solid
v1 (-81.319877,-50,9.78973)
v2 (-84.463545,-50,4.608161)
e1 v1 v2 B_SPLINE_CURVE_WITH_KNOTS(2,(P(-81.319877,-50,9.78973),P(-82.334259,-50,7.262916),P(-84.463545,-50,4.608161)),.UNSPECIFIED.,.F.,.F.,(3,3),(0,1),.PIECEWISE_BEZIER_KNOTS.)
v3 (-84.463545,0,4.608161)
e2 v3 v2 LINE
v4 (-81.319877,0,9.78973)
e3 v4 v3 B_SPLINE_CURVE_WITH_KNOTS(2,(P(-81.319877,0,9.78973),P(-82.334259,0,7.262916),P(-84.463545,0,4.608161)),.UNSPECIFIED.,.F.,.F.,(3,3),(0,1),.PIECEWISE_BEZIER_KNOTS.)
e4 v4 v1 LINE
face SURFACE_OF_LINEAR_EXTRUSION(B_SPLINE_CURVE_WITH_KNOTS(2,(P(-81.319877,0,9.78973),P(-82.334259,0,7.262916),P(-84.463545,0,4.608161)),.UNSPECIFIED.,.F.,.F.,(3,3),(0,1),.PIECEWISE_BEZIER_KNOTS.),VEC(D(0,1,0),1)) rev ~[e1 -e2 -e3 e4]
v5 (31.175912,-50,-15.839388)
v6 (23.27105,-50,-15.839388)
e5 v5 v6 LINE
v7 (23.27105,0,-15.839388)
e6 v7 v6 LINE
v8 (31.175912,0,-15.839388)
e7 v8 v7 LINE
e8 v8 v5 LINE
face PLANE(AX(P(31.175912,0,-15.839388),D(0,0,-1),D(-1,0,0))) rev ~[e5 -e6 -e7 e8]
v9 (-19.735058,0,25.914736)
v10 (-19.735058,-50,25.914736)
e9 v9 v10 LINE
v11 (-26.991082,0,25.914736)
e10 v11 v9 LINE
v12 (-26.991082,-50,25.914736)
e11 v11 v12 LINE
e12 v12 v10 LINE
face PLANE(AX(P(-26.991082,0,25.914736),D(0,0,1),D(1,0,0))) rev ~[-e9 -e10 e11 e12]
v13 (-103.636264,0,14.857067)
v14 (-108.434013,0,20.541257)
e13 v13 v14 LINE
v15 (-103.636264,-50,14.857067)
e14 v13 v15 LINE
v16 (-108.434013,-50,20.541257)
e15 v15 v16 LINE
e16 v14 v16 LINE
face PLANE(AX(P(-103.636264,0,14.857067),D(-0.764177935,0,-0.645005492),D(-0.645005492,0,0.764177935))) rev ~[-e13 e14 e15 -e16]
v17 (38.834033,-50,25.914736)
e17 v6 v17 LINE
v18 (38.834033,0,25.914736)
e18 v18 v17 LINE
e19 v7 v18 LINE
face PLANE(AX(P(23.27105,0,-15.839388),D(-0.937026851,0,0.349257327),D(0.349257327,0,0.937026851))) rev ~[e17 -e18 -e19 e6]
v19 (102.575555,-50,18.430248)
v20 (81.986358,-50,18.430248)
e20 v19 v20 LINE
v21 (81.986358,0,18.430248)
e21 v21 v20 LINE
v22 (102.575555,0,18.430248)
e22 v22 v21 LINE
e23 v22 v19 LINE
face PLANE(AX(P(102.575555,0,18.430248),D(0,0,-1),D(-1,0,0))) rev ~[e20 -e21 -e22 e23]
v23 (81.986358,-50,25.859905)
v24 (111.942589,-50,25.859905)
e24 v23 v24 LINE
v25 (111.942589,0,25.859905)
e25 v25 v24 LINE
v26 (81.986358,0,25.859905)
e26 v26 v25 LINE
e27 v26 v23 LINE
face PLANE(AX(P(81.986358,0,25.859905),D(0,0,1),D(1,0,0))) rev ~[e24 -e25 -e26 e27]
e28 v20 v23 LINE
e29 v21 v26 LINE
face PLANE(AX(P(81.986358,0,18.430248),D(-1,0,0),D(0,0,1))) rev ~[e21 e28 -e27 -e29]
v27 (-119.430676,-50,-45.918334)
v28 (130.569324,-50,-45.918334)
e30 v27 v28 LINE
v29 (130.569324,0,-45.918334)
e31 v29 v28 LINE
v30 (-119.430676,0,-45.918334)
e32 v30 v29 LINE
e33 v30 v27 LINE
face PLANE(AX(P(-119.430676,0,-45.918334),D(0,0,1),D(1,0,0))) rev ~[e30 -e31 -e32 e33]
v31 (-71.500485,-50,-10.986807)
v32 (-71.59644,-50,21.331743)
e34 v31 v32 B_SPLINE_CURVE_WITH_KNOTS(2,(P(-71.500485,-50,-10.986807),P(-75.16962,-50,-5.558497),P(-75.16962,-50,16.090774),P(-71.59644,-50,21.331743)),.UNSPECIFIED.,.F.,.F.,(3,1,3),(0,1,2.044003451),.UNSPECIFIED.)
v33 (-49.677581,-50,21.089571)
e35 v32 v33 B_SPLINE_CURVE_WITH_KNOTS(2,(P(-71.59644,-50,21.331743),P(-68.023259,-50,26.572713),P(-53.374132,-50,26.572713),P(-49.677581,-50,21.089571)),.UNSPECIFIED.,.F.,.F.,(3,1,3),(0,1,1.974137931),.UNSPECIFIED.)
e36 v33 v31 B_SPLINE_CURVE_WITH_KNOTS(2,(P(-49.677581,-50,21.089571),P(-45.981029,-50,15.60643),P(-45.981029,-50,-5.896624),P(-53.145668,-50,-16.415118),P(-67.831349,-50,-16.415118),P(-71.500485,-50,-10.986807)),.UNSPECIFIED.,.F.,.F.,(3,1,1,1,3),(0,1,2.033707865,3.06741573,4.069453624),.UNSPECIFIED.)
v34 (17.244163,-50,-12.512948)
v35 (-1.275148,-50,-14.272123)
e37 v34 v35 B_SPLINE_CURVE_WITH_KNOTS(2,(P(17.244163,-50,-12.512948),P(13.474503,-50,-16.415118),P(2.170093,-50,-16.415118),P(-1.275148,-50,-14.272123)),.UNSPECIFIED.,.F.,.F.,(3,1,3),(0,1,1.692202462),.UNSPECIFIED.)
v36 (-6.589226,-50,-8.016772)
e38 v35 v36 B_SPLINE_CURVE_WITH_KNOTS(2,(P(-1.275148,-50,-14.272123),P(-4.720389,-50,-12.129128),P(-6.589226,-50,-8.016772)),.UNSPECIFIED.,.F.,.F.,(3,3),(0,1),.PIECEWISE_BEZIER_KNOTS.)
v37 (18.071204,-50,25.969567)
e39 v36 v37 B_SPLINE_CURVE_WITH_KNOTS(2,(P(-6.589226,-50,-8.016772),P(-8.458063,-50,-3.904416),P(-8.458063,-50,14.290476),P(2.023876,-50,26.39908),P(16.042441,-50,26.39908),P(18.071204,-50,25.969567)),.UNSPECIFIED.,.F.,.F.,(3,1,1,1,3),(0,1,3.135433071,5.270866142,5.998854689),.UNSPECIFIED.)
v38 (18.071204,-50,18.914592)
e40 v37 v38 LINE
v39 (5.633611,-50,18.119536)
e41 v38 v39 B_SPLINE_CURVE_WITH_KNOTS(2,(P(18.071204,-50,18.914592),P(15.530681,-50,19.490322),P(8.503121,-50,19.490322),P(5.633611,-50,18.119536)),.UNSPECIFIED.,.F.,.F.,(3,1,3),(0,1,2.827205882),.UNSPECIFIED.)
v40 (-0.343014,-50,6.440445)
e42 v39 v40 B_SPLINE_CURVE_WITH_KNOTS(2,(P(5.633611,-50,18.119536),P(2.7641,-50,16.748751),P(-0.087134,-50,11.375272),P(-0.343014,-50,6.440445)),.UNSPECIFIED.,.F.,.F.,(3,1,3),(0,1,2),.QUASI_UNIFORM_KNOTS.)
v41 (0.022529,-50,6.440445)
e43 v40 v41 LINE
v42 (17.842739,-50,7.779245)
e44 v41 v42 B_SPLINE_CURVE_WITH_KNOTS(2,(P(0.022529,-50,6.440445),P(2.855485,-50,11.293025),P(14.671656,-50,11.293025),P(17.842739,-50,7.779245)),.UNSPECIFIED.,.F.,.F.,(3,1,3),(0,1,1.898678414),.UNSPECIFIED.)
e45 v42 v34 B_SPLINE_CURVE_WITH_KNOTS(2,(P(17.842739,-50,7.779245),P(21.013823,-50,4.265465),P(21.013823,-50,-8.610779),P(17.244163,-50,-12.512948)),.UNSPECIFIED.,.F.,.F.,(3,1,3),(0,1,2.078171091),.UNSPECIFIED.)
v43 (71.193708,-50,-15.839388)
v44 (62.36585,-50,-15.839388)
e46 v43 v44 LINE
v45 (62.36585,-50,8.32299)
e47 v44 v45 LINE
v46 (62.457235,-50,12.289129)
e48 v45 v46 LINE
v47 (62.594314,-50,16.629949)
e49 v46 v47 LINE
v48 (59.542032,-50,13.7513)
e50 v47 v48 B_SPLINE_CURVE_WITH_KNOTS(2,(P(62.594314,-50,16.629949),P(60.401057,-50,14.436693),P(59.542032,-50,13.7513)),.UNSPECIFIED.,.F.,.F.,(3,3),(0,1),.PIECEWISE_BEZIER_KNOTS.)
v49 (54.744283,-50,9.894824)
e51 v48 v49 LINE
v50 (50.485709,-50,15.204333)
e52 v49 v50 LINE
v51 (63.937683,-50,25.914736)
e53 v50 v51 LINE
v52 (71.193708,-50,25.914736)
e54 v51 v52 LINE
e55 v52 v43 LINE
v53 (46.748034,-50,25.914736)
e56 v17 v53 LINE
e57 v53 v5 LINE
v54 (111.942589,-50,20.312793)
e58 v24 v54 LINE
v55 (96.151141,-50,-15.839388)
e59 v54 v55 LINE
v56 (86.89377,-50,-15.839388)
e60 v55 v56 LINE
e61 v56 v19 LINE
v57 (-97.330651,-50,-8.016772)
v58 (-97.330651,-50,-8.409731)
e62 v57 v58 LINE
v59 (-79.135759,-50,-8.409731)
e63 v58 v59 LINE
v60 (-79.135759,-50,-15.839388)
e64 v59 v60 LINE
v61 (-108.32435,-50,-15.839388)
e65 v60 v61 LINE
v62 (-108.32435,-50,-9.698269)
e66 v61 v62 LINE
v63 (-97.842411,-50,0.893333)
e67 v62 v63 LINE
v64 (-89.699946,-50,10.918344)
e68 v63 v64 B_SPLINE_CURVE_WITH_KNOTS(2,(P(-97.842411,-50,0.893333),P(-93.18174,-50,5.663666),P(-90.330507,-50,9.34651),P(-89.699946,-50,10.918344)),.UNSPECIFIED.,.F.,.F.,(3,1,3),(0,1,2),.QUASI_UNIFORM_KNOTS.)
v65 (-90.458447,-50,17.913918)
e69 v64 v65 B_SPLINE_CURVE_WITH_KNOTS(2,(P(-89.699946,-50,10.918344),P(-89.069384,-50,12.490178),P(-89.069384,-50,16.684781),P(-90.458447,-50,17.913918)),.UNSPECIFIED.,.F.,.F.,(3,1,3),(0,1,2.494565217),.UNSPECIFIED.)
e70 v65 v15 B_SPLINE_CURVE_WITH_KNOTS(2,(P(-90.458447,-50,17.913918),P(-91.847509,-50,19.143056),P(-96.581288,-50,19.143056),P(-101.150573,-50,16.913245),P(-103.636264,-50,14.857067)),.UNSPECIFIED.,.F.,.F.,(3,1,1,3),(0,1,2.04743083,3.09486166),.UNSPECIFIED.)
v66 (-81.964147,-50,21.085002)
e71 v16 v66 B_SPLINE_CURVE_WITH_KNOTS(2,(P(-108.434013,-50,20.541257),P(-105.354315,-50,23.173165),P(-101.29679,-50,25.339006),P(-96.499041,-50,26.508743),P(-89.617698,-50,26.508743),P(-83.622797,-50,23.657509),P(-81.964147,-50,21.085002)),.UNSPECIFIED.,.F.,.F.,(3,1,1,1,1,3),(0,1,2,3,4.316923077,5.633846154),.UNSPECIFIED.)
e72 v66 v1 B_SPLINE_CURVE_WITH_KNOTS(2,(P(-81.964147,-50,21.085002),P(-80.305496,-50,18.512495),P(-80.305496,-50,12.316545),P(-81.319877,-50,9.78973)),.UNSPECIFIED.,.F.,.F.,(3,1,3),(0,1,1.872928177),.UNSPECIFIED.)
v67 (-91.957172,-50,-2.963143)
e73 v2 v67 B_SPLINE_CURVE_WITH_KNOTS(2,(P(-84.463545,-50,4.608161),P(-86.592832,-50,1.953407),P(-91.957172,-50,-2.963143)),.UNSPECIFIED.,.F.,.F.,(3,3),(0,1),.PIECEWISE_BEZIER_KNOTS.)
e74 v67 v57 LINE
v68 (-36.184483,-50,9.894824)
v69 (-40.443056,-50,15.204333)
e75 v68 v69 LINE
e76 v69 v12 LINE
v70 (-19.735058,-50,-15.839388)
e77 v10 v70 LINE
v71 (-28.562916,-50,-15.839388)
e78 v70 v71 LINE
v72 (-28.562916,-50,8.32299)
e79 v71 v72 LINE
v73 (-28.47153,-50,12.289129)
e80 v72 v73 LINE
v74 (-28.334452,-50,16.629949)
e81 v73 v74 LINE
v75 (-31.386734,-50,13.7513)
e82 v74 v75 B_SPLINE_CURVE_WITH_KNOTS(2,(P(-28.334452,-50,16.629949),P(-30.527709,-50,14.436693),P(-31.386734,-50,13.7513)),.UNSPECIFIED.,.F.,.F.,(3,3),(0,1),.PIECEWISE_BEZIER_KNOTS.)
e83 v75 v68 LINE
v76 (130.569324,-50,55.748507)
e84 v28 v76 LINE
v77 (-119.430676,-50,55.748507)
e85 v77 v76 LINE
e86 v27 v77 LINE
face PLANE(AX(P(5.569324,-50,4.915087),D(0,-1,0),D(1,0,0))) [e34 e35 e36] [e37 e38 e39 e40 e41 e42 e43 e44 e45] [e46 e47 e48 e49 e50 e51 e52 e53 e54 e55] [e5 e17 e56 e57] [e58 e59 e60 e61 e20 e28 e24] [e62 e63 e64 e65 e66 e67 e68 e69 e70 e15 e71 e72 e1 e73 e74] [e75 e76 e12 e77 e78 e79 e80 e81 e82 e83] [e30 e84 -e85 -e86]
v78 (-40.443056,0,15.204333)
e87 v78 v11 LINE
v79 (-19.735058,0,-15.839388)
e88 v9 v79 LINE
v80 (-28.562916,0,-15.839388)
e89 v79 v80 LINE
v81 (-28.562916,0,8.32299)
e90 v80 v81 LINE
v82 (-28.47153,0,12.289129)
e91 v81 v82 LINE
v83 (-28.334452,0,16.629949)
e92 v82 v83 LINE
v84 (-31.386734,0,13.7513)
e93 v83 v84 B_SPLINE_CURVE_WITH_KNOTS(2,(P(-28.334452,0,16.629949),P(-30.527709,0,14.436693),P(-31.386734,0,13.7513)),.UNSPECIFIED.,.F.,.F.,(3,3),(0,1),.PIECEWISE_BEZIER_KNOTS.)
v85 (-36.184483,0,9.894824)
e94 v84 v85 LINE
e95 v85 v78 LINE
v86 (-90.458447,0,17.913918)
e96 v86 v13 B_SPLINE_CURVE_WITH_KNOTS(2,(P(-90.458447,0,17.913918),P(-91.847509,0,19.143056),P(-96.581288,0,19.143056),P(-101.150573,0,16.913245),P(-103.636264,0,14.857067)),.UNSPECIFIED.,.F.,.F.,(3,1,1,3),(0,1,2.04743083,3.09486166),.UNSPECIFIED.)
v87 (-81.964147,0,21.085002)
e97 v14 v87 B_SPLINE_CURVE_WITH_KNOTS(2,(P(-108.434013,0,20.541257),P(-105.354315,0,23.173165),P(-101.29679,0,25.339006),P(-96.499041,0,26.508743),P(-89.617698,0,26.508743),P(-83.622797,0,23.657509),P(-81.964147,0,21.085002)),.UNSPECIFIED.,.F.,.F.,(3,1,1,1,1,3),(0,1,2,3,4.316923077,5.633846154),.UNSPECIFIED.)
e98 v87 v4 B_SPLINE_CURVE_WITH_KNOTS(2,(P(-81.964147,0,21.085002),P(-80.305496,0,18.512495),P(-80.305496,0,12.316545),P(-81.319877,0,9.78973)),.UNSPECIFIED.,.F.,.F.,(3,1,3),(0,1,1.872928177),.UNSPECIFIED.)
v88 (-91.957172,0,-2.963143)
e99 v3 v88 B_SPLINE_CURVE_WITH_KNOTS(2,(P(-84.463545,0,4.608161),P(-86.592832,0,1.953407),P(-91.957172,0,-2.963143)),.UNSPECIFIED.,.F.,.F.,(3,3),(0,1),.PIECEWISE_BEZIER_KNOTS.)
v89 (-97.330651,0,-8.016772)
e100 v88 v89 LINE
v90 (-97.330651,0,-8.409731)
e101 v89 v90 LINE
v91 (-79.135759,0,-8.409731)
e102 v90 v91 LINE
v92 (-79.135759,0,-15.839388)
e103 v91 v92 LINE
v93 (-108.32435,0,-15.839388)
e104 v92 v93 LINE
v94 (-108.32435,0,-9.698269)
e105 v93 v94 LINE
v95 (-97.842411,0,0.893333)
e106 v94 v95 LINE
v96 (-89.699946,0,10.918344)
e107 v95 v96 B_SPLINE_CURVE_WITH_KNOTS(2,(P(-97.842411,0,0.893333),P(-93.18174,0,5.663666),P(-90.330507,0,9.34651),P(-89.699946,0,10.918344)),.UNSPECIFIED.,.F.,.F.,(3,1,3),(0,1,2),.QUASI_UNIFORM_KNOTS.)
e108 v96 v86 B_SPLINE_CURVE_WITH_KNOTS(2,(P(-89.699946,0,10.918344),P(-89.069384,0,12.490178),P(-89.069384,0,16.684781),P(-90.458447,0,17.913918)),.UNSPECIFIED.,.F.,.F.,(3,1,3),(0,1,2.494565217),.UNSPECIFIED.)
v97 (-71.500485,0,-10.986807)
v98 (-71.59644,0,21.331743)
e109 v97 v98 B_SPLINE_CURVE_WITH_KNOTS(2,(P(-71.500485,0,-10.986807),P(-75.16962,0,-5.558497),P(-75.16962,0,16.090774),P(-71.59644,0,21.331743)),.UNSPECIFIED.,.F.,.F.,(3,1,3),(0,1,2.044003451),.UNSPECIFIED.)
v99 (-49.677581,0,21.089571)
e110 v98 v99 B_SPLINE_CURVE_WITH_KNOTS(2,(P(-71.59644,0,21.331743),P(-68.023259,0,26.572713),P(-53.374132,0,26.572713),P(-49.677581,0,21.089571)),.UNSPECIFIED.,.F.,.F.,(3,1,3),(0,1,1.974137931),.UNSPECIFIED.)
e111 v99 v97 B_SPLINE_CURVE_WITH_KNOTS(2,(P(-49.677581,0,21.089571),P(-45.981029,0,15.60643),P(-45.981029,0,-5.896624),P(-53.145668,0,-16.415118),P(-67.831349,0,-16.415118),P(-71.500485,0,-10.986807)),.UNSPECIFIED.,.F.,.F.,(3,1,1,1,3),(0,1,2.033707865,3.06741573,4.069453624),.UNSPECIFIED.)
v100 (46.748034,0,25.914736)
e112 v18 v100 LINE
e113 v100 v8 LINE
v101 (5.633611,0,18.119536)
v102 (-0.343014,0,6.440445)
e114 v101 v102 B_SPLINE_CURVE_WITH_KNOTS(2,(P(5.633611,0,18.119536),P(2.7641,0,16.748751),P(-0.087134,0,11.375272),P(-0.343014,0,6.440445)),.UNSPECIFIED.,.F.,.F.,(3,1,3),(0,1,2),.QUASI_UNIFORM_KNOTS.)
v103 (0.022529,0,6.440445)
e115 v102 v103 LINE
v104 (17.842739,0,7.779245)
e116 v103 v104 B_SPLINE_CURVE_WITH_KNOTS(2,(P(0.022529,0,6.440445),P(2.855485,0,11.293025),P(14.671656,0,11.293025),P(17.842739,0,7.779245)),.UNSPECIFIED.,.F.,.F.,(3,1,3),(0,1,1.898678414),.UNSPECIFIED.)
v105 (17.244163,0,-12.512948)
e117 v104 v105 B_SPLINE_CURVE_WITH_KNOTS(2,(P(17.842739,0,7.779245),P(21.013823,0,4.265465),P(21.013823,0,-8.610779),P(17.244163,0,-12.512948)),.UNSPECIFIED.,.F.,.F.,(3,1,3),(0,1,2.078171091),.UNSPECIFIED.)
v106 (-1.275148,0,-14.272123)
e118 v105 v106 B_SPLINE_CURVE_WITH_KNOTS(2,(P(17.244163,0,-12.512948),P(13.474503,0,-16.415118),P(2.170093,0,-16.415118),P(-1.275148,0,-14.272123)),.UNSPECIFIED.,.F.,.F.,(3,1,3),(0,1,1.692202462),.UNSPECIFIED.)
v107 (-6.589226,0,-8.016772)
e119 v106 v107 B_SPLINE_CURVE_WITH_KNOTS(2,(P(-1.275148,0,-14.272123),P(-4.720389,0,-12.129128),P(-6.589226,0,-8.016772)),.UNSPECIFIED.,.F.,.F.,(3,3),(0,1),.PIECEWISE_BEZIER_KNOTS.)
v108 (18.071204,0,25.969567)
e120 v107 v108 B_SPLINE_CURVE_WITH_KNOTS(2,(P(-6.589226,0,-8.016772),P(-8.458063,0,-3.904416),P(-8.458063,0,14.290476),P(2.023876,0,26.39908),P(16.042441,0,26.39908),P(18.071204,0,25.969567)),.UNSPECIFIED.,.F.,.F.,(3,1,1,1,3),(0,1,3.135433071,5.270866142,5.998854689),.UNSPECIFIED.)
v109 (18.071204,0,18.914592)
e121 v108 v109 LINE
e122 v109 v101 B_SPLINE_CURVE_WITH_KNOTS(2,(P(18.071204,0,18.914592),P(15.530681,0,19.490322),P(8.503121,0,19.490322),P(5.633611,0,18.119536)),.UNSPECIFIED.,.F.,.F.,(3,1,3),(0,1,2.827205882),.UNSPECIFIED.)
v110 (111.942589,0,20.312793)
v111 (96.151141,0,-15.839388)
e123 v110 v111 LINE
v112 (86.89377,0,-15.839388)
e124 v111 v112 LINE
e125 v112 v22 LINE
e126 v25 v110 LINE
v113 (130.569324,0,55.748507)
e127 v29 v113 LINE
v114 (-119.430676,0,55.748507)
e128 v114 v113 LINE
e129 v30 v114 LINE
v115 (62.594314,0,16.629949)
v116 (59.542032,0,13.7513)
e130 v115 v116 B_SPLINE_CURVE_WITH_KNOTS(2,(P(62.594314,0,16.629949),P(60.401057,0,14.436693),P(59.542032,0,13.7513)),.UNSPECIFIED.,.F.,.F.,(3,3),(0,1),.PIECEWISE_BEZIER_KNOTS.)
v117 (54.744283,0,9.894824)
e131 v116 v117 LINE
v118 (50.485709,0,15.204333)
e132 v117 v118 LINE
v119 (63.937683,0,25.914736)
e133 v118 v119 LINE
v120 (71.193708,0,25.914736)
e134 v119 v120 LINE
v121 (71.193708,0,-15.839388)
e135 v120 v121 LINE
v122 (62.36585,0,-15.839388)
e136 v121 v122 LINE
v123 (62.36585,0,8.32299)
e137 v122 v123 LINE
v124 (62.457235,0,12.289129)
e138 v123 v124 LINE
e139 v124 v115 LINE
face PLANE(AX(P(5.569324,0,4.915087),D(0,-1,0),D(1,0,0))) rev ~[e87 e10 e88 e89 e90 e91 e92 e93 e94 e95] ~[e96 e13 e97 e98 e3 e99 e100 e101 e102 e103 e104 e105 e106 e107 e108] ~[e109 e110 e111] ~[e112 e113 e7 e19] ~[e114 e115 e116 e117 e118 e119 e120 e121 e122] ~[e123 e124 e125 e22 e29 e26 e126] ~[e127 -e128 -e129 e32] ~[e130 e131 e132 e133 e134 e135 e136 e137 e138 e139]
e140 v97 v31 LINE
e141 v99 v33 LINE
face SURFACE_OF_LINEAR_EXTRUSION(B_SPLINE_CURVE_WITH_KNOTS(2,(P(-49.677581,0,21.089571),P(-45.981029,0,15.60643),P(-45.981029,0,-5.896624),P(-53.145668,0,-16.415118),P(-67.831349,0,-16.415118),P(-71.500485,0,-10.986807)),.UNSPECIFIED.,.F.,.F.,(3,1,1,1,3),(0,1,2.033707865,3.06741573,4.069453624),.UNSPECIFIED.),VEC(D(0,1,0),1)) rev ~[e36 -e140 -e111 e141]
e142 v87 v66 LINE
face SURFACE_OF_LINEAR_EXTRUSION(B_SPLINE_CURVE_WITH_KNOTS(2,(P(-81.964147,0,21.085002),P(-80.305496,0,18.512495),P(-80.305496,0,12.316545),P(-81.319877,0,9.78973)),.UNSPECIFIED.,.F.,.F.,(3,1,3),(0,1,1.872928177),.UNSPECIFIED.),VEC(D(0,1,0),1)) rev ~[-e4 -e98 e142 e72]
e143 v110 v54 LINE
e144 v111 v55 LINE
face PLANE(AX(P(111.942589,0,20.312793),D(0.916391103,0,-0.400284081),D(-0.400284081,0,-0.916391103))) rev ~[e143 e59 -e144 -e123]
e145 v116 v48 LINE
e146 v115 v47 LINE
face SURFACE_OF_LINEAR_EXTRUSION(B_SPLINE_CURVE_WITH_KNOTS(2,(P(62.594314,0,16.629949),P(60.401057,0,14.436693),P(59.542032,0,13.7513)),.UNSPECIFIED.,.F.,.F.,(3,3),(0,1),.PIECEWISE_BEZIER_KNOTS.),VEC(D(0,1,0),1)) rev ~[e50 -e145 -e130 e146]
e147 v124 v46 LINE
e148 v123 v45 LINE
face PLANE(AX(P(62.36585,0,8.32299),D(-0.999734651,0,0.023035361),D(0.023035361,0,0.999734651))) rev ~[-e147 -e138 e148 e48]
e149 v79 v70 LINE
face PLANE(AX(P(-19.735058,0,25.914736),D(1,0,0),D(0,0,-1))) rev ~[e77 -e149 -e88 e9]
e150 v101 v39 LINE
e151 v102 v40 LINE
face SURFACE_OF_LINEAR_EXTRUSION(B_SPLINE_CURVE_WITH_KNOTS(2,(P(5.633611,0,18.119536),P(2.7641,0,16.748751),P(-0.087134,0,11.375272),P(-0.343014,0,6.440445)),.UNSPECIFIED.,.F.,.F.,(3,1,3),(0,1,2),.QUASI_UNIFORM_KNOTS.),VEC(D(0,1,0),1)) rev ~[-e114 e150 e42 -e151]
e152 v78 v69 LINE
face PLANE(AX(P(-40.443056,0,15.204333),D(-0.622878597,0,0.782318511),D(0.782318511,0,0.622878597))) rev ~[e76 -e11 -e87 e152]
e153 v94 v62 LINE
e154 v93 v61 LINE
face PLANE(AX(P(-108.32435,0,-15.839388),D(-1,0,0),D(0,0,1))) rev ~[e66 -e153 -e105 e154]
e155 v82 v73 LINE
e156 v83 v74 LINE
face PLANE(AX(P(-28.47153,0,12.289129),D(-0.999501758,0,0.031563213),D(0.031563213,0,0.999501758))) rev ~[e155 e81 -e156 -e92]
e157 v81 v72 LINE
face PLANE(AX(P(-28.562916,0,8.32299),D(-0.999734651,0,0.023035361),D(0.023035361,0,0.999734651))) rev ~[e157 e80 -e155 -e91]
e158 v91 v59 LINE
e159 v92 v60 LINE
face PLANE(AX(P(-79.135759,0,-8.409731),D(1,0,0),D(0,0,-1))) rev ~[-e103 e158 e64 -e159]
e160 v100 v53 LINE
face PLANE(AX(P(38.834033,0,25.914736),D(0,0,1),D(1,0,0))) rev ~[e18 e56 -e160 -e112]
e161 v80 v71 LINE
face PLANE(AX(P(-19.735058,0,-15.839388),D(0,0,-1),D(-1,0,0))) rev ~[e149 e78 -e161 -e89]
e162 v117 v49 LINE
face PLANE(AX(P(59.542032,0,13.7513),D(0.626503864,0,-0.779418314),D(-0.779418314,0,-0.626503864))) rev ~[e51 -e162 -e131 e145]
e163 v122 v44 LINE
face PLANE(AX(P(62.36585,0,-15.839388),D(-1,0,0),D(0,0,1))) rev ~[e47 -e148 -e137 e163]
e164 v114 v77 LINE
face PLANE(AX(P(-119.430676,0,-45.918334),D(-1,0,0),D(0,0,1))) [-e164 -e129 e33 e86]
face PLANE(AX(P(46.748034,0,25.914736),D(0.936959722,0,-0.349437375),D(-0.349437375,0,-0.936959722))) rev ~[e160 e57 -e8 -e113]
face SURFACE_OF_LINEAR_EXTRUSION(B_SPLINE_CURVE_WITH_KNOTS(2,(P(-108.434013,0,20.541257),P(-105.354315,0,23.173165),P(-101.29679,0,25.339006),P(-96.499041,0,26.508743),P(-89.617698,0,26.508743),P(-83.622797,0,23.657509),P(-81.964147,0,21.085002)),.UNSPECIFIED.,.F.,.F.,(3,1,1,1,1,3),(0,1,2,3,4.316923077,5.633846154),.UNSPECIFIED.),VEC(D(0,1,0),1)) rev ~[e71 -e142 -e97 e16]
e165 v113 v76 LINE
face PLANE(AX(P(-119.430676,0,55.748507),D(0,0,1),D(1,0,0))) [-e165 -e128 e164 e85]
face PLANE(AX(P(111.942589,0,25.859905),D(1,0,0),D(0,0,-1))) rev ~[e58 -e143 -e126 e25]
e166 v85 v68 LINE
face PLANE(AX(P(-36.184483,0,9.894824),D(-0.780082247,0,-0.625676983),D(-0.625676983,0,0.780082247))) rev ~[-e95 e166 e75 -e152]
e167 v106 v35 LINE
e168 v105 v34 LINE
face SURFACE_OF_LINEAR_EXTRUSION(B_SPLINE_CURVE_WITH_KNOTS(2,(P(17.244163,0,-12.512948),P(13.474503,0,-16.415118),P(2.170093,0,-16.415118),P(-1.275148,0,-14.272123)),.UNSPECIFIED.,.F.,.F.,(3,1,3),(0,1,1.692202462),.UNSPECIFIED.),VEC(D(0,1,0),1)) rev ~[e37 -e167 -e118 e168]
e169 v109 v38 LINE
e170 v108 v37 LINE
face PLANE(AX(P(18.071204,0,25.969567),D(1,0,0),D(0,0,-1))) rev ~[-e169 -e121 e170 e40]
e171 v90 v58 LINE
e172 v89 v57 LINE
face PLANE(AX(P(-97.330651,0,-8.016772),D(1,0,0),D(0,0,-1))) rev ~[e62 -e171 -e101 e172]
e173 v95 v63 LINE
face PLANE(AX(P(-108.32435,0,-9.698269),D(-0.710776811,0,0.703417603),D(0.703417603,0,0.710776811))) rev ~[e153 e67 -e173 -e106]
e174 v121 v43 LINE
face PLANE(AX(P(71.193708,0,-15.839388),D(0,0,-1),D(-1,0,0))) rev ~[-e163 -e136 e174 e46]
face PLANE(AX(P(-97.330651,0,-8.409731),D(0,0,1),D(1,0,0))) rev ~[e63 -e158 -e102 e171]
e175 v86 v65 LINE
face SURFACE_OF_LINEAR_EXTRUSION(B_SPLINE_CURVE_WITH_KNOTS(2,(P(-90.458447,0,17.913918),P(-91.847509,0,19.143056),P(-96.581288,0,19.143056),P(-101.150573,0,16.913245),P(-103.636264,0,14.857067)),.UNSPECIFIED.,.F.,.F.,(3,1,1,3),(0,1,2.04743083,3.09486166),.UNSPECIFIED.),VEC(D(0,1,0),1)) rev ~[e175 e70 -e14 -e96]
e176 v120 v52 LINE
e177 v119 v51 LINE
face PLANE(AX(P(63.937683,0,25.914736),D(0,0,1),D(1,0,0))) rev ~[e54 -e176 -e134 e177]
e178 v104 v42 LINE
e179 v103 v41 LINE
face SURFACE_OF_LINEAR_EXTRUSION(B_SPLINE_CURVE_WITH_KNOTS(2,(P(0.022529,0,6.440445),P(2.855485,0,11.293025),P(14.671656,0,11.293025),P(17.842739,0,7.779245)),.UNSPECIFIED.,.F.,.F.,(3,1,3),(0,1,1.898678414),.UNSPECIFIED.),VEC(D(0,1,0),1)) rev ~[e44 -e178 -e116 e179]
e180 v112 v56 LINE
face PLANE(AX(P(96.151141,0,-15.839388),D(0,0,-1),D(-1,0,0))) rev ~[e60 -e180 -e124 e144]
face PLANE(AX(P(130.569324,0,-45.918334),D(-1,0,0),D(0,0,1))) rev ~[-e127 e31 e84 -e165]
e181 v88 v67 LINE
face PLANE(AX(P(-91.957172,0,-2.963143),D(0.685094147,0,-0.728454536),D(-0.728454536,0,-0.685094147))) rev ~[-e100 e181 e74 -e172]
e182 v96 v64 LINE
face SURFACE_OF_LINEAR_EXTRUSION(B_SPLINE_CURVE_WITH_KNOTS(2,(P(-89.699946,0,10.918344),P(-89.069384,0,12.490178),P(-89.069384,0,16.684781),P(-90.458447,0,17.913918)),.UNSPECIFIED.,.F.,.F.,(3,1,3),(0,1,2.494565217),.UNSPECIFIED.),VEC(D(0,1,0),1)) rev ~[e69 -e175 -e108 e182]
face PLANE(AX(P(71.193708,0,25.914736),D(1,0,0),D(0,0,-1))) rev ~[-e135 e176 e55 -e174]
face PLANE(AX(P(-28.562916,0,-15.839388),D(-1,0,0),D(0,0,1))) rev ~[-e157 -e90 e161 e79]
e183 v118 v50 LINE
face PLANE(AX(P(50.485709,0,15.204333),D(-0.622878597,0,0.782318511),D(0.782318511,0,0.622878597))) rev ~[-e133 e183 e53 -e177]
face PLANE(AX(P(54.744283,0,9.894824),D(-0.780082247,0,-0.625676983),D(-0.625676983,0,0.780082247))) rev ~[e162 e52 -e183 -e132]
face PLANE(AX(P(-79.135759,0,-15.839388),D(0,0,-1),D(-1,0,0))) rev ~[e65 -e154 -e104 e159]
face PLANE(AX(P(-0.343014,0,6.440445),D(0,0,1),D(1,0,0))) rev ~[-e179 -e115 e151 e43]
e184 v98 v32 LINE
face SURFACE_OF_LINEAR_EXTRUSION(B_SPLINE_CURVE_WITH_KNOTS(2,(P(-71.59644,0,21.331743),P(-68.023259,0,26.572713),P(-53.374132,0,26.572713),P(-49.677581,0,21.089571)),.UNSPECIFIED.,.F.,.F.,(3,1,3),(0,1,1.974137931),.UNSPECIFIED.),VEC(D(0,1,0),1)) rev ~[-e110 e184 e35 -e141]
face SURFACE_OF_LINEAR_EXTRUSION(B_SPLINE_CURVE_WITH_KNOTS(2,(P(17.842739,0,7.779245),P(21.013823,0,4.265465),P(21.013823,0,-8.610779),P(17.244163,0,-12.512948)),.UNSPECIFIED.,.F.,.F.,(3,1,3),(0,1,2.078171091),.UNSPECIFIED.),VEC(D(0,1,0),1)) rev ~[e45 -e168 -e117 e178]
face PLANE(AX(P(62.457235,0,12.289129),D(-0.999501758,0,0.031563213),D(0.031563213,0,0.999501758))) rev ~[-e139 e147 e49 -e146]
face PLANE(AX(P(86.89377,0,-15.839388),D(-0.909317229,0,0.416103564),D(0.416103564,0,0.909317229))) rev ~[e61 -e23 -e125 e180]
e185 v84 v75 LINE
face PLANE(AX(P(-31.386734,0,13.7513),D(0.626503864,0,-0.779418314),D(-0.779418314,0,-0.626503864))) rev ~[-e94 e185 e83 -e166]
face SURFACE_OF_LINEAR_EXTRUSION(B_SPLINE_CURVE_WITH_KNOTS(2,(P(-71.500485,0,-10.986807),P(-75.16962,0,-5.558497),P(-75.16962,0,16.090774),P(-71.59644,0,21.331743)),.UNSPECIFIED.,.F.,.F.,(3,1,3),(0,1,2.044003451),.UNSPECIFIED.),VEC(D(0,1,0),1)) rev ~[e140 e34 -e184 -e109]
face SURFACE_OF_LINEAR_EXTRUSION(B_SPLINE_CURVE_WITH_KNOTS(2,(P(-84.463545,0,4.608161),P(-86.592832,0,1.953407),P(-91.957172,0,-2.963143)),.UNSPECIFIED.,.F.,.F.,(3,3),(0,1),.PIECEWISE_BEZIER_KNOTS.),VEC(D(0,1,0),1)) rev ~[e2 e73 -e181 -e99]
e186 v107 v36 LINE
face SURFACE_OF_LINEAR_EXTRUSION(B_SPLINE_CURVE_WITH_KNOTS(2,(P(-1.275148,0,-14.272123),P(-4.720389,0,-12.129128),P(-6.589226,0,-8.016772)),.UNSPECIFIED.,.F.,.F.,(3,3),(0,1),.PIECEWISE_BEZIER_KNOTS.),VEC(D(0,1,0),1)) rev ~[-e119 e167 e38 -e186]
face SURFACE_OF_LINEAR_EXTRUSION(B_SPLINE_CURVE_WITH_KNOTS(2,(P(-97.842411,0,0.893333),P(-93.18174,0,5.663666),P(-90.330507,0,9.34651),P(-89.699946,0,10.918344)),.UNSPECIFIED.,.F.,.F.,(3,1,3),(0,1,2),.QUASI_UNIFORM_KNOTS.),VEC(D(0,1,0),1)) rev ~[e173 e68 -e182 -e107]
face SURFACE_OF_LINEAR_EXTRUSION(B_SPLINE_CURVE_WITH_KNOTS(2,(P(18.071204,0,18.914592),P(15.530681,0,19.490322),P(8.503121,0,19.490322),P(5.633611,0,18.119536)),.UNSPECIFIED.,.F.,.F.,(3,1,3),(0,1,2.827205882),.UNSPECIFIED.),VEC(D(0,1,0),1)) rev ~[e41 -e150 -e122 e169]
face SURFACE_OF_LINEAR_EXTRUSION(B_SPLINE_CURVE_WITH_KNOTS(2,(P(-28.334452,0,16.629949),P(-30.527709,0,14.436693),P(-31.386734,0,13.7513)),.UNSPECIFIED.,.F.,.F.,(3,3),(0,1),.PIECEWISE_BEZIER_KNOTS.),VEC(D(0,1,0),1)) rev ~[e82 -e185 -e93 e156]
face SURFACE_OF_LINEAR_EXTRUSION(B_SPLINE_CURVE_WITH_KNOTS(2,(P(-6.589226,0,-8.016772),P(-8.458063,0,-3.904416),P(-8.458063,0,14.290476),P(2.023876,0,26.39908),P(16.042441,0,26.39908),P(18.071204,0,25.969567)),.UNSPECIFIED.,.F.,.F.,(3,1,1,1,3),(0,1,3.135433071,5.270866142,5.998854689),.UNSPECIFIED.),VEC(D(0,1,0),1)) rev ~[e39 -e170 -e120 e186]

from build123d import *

# Parameters (mm, degrees)
F0_W     = 250
F0_H     = 101.666841656
F1_DEPTH = 50


with BuildPart() as f1:
    # F0 (on Front) → F1 (new body)
    with BuildSketch(Plane.XZ):
        with Locations((5.5693238974, 4.9150865525)):
            Rectangle(F0_W, F0_H)
        with BuildLine():
            Line((-79.1357593007, -8.4097307281), (-79.1357593007, -15.8393876627))
            Line((-79.1357593007, -15.8393876627), (-108.3243500131, -15.8393876627))
            Line((-108.3243500131, -15.8393876627), (-108.3243500131, -9.6982690156))
            Line((-108.3243500131, -9.6982690156), (-97.8424108938, 0.8933329367))
            add(Edge.make_bspline(
                [(-97.8424108938, 0.8933329367), (-93.181740492, 5.6636661714), (-91.7561236632, 7.5050879086)],
                knots=[0, 0, 0, 1, 1, 1], degree=2))
            add(Edge.make_bspline(
                [(-91.7561236632, 7.5050879086), (-90.3305068344, 9.3465096458), (-89.6999455448, 10.9183435852)],
                knots=[0, 0, 0, 1, 1, 1], degree=2))
            add(Edge.make_bspline(
                [(-89.6999455448, 10.9183435852), (-89.0693842551, 12.4901775246), (-89.0693842551, 14.1716742971)],
                knots=[0, 0, 0, 1, 1, 1], degree=2))
            add(Edge.make_bspline(
                [(-89.0693842551, 14.1716742971), (-89.0693842551, 16.6847808863), (-90.4584468062, 17.9139184726)],
                knots=[0, 0, 0, 1, 1, 1], degree=2))
            add(Edge.make_bspline(
                [(-90.4584468062, 17.9139184726), (-91.8475093573, 19.143056059), (-94.1595674194, 19.143056059)],
                knots=[0, 0, 0, 1, 1, 1], degree=2))
            add(Edge.make_bspline(
                [(-94.1595674194, 19.143056059), (-96.5812883145, 19.143056059), (-98.8659306683, 18.0281505903)],
                knots=[0, 0, 0, 1, 1, 1], degree=2))
            add(Edge.make_bspline(
                [(-98.8659306683, 18.0281505903), (-101.1505730221, 16.9132451216), (-103.6362639031, 14.8570670032)],
                knots=[0, 0, 0, 1, 1, 1], degree=2))
            Line((-103.6362639031, 14.8570670032), (-108.4340128461, 20.5412571795))
            add(Edge.make_bspline(
                [(-108.4340128461, 20.5412571795), (-105.3543149531, 23.1731651711), (-103.3255525429, 24.2560856468)],
                knots=[0, 0, 0, 1, 1, 1], degree=2))
            add(Edge.make_bspline(
                [(-103.3255525429, 24.2560856468), (-101.2967901327, 25.3390061225), (-98.8979156612, 25.9238745651)],
                knots=[0, 0, 0, 1, 1, 1], degree=2))
            add(Edge.make_bspline(
                [(-98.8979156612, 25.9238745651), (-96.4990411897, 26.5087430077), (-93.5290061298, 26.5087430077)],
                knots=[0, 0, 0, 1, 1, 1], degree=2))
            add(Edge.make_bspline(
                [(-93.5290061298, 26.5087430077), (-89.61769842, 26.5087430077), (-86.6202476518, 25.0831261789)],
                knots=[0, 0, 0, 1, 1, 1], degree=2))
            add(Edge.make_bspline(
                [(-86.6202476518, 25.0831261789), (-83.6227968836, 23.6575093501), (-81.9641465347, 21.0850020597)],
                knots=[0, 0, 0, 1, 1, 1], degree=2))
            add(Edge.make_bspline(
                [(-81.9641465347, 21.0850020597), (-80.3054961859, 18.5124947693), (-80.3054961859, 15.204332641)],
                knots=[0, 0, 0, 1, 1, 1], degree=2))
            add(Edge.make_bspline(
                [(-80.3054961859, 15.204332641), (-80.3054961859, 12.3165447058), (-81.3198773909, 9.7897302624)],
                knots=[0, 0, 0, 1, 1, 1], degree=2))
            add(Edge.make_bspline(
                [(-81.3198773909, 9.7897302624), (-82.334258596, 7.2629158191), (-84.4635452698, 4.608161404)],
                knots=[0, 0, 0, 1, 1, 1], degree=2))
            add(Edge.make_bspline(
                [(-84.4635452698, 4.608161404), (-86.5928319436, 1.9534069888), (-91.9571721903, -2.9631433566)],
                knots=[0, 0, 0, 1, 1, 1], degree=2))
            Line((-91.9571721903, -2.9631433566), (-97.3306510065, -8.0167722432))
            Line((-97.3306510065, -8.0167722432), (-97.3306510065, -8.4097307281))
            Line((-97.3306510065, -8.4097307281), (-79.1357593007, -8.4097307281))
        make_face(mode=Mode.SUBTRACT)
        with BuildLine():
            add(Edge.make_bspline(
                [(-49.6775807906, 21.0895713444), (-45.9810294621, 15.6064296953), (-45.9810294621, 5.0331048818)],
                knots=[0, 0, 0, 1, 1, 1], degree=2))
            add(Edge.make_bspline(
                [(-45.9810294621, 5.0331048818), (-45.9810294621, -5.8966241389), (-49.5633486729, -11.1558708374)],
                knots=[0, 0, 0, 1, 1, 1], degree=2))
            add(Edge.make_bspline(
                [(-49.5633486729, -11.1558708374), (-53.1456678837, -16.4151175359), (-60.6027405265, -16.4151175359)],
                knots=[0, 0, 0, 1, 1, 1], degree=2))
            add(Edge.make_bspline(
                [(-60.6027405265, -16.4151175359), (-67.831348934, -16.4151175359), (-71.5004845542, -10.9868073032)],
                knots=[0, 0, 0, 1, 1, 1], degree=2))
            add(Edge.make_bspline(
                [(-71.5004845542, -10.9868073032), (-75.1696201745, -5.5584970705), (-75.1696201745, 5.0331048818)],
                knots=[0, 0, 0, 1, 1, 1], degree=2))
            add(Edge.make_bspline(
                [(-75.1696201745, 5.0331048818), (-75.1696201745, 16.0907738743), (-71.5964395331, 21.3317434339)],
                knots=[0, 0, 0, 1, 1, 1], degree=2))
            add(Edge.make_bspline(
                [(-71.5964395331, 21.3317434339), (-68.0232588917, 26.5727129936), (-60.6027405265, 26.5727129936)],
                knots=[0, 0, 0, 1, 1, 1], degree=2))
            add(Edge.make_bspline(
                [(-60.6027405265, 26.5727129936), (-53.374132119, 26.5727129936), (-49.6775807906, 21.0895713444)],
                knots=[0, 0, 0, 1, 1, 1], degree=2))
        make_face(mode=Mode.SUBTRACT)
        with BuildLine():
            Line((-19.7350581014, 25.9147359957), (-19.7350581014, -15.8393876627))
            Line((-19.7350581014, -15.8393876627), (-28.5629161566, -15.8393876627))
            Line((-28.5629161566, -15.8393876627), (-28.5629161566, 8.3229898713))
            Line((-28.5629161566, 8.3229898713), (-28.4715304624, 12.2891289975))
            Line((-28.4715304624, 12.2891289975), (-28.3344519212, 16.6299494698))
            add(Edge.make_bspline(
                [(-28.3344519212, 16.6299494698), (-30.5277085808, 14.4366928101), (-31.3867341059, 13.751300104)],
                knots=[0, 0, 0, 1, 1, 1], degree=2))
            Line((-31.3867341059, 13.751300104), (-36.1844830489, 9.8948238107))
            Line((-36.1844830489, 9.8948238107), (-40.4430563964, 15.204332641))
            Line((-40.4430563964, 15.204332641), (-26.9910822171, 25.9147359957))
            Line((-26.9910822171, 25.9147359957), (-19.7350581014, 25.9147359957))
        make_face(mode=Mode.SUBTRACT)
        with BuildLine():
            add(Edge.make_bspline(
                [(-6.5892259975, -8.0167722432), (-8.458063443, -3.9044160064), (-8.458063443, 1.8985755723)],
                knots=[0, 0, 0, 1, 1, 1], degree=2))
            add(Edge.make_bspline(
                [(-8.458063443, 1.8985755723), (-8.458063443, 14.2904756995), (-3.2170938833, 20.3447779371)],
                knots=[0, 0, 0, 1, 1, 1], degree=2))
            add(Edge.make_bspline(
                [(-3.2170938833, 20.3447779371), (2.0238756764, 26.3990801747), (12.4783990874, 26.3990801747)],
                knots=[0, 0, 0, 1, 1, 1], degree=2))
            add(Edge.make_bspline(
                [(12.4783990874, 26.3990801747), (16.0424411594, 26.3990801747), (18.0712035696, 25.9695674122)],
                knots=[0, 0, 0, 1, 1, 1], degree=2))
            Line((18.0712035696, 25.9695674122), (18.0712035696, 18.9145918236))
            add(Edge.make_bspline(
                [(18.0712035696, 18.9145918236), (15.5306812721, 19.4903216967), (13.0449903912, 19.4903216967)],
                knots=[0, 0, 0, 1, 1, 1], degree=2))
            add(Edge.make_bspline(
                [(13.0449903912, 19.4903216967), (8.5031213918, 19.4903216967), (5.6336105954, 18.1195362845)],
                knots=[0, 0, 0, 1, 1, 1], degree=2))
            add(Edge.make_bspline(
                [(5.6336105954, 18.1195362845), (2.764099799, 16.7487508722), (1.3384829702, 14.0620114641)],
                knots=[0, 0, 0, 1, 1, 1], degree=2))
            add(Edge.make_bspline(
                [(1.3384829702, 14.0620114641), (-0.0871338586, 11.375272056), (-0.3430138022, 6.4404445717)],
                knots=[0, 0, 0, 1, 1, 1], degree=2))
            Line((-0.3430138022, 6.4404445717), (0.0225289744, 6.4404445717))
            add(Edge.make_bspline(
                [(0.0225289744, 6.4404445717), (2.8554854932, 11.2930249312), (9.078851265, 11.2930249312)],
                knots=[0, 0, 0, 1, 1, 1], degree=2))
            add(Edge.make_bspline(
                [(9.078851265, 11.2930249312), (14.6716557471, 11.2930249312), (17.8427393342, 7.7792449911)],
                knots=[0, 0, 0, 1, 1, 1], degree=2))
            add(Edge.make_bspline(
                [(17.8427393342, 7.7792449911), (21.0138229213, 4.2654650509), (21.0138229213, -1.9304850127)],
                knots=[0, 0, 0, 1, 1, 1], degree=2))
            add(Edge.make_bspline(
                [(21.0138229213, -1.9304850127), (21.0138229213, -8.6107792552), (17.2441630375, -12.5129483955)],
                knots=[0, 0, 0, 1, 1, 1], degree=2))
            add(Edge.make_bspline(
                [(17.2441630375, -12.5129483955), (13.4745031537, -16.4151175359), (6.7942089111, -16.4151175359)],
                knots=[0, 0, 0, 1, 1, 1], degree=2))
            add(Edge.make_bspline(
                [(6.7942089111, -16.4151175359), (2.170092787, -16.4151175359), (-1.2751478826, -14.272123008)],
                knots=[0, 0, 0, 1, 1, 1], degree=2))
            add(Edge.make_bspline(
                [(-1.2751478826, -14.272123008), (-4.7203885521, -12.1291284801), (-6.5892259975, -8.0167722432)],
                knots=[0, 0, 0, 1, 1, 1], degree=2))
        make_face(mode=Mode.SUBTRACT)
        Polygon((38.8340332811, 25.9147359957), (46.7480343947, 25.9147359957), (31.1759121111, -15.8393876627), (23.2710495669, -15.8393876627), align=None, mode=Mode.SUBTRACT)
        with BuildLine():
            Line((71.1937075806, 25.9147359957), (71.1937075806, -15.8393876627))
            Line((71.1937075806, -15.8393876627), (62.3658495254, -15.8393876627))
            Line((62.3658495254, -15.8393876627), (62.3658495254, 8.3229898713))
            Line((62.3658495254, 8.3229898713), (62.4572352196, 12.2891289975))
            Line((62.4572352196, 12.2891289975), (62.5943137608, 16.6299494698))
            add(Edge.make_bspline(
                [(62.5943137608, 16.6299494698), (60.4010571011, 14.4366928101), (59.5420315761, 13.751300104)],
                knots=[0, 0, 0, 1, 1, 1], degree=2))
            Line((59.5420315761, 13.751300104), (54.7442826331, 9.8948238107))
            Line((54.7442826331, 9.8948238107), (50.4857092856, 15.204332641))
            Line((50.4857092856, 15.204332641), (63.9376834649, 25.9147359957))
            Line((63.9376834649, 25.9147359957), (71.1937075806, 25.9147359957))
        make_face(mode=Mode.SUBTRACT)
        Polygon((96.1511406537, -15.8393876627), (86.893769836, -15.8393876627), (102.5755549526, 18.4302476446), (81.98635806, 18.4302476446), (81.98635806, 25.8599045792), (111.9425886033, 25.8599045792), (111.9425886033, 20.3127929441), align=None, mode=Mode.SUBTRACT)
    extrude(amount=F1_DEPTH)


solid = f1.part
